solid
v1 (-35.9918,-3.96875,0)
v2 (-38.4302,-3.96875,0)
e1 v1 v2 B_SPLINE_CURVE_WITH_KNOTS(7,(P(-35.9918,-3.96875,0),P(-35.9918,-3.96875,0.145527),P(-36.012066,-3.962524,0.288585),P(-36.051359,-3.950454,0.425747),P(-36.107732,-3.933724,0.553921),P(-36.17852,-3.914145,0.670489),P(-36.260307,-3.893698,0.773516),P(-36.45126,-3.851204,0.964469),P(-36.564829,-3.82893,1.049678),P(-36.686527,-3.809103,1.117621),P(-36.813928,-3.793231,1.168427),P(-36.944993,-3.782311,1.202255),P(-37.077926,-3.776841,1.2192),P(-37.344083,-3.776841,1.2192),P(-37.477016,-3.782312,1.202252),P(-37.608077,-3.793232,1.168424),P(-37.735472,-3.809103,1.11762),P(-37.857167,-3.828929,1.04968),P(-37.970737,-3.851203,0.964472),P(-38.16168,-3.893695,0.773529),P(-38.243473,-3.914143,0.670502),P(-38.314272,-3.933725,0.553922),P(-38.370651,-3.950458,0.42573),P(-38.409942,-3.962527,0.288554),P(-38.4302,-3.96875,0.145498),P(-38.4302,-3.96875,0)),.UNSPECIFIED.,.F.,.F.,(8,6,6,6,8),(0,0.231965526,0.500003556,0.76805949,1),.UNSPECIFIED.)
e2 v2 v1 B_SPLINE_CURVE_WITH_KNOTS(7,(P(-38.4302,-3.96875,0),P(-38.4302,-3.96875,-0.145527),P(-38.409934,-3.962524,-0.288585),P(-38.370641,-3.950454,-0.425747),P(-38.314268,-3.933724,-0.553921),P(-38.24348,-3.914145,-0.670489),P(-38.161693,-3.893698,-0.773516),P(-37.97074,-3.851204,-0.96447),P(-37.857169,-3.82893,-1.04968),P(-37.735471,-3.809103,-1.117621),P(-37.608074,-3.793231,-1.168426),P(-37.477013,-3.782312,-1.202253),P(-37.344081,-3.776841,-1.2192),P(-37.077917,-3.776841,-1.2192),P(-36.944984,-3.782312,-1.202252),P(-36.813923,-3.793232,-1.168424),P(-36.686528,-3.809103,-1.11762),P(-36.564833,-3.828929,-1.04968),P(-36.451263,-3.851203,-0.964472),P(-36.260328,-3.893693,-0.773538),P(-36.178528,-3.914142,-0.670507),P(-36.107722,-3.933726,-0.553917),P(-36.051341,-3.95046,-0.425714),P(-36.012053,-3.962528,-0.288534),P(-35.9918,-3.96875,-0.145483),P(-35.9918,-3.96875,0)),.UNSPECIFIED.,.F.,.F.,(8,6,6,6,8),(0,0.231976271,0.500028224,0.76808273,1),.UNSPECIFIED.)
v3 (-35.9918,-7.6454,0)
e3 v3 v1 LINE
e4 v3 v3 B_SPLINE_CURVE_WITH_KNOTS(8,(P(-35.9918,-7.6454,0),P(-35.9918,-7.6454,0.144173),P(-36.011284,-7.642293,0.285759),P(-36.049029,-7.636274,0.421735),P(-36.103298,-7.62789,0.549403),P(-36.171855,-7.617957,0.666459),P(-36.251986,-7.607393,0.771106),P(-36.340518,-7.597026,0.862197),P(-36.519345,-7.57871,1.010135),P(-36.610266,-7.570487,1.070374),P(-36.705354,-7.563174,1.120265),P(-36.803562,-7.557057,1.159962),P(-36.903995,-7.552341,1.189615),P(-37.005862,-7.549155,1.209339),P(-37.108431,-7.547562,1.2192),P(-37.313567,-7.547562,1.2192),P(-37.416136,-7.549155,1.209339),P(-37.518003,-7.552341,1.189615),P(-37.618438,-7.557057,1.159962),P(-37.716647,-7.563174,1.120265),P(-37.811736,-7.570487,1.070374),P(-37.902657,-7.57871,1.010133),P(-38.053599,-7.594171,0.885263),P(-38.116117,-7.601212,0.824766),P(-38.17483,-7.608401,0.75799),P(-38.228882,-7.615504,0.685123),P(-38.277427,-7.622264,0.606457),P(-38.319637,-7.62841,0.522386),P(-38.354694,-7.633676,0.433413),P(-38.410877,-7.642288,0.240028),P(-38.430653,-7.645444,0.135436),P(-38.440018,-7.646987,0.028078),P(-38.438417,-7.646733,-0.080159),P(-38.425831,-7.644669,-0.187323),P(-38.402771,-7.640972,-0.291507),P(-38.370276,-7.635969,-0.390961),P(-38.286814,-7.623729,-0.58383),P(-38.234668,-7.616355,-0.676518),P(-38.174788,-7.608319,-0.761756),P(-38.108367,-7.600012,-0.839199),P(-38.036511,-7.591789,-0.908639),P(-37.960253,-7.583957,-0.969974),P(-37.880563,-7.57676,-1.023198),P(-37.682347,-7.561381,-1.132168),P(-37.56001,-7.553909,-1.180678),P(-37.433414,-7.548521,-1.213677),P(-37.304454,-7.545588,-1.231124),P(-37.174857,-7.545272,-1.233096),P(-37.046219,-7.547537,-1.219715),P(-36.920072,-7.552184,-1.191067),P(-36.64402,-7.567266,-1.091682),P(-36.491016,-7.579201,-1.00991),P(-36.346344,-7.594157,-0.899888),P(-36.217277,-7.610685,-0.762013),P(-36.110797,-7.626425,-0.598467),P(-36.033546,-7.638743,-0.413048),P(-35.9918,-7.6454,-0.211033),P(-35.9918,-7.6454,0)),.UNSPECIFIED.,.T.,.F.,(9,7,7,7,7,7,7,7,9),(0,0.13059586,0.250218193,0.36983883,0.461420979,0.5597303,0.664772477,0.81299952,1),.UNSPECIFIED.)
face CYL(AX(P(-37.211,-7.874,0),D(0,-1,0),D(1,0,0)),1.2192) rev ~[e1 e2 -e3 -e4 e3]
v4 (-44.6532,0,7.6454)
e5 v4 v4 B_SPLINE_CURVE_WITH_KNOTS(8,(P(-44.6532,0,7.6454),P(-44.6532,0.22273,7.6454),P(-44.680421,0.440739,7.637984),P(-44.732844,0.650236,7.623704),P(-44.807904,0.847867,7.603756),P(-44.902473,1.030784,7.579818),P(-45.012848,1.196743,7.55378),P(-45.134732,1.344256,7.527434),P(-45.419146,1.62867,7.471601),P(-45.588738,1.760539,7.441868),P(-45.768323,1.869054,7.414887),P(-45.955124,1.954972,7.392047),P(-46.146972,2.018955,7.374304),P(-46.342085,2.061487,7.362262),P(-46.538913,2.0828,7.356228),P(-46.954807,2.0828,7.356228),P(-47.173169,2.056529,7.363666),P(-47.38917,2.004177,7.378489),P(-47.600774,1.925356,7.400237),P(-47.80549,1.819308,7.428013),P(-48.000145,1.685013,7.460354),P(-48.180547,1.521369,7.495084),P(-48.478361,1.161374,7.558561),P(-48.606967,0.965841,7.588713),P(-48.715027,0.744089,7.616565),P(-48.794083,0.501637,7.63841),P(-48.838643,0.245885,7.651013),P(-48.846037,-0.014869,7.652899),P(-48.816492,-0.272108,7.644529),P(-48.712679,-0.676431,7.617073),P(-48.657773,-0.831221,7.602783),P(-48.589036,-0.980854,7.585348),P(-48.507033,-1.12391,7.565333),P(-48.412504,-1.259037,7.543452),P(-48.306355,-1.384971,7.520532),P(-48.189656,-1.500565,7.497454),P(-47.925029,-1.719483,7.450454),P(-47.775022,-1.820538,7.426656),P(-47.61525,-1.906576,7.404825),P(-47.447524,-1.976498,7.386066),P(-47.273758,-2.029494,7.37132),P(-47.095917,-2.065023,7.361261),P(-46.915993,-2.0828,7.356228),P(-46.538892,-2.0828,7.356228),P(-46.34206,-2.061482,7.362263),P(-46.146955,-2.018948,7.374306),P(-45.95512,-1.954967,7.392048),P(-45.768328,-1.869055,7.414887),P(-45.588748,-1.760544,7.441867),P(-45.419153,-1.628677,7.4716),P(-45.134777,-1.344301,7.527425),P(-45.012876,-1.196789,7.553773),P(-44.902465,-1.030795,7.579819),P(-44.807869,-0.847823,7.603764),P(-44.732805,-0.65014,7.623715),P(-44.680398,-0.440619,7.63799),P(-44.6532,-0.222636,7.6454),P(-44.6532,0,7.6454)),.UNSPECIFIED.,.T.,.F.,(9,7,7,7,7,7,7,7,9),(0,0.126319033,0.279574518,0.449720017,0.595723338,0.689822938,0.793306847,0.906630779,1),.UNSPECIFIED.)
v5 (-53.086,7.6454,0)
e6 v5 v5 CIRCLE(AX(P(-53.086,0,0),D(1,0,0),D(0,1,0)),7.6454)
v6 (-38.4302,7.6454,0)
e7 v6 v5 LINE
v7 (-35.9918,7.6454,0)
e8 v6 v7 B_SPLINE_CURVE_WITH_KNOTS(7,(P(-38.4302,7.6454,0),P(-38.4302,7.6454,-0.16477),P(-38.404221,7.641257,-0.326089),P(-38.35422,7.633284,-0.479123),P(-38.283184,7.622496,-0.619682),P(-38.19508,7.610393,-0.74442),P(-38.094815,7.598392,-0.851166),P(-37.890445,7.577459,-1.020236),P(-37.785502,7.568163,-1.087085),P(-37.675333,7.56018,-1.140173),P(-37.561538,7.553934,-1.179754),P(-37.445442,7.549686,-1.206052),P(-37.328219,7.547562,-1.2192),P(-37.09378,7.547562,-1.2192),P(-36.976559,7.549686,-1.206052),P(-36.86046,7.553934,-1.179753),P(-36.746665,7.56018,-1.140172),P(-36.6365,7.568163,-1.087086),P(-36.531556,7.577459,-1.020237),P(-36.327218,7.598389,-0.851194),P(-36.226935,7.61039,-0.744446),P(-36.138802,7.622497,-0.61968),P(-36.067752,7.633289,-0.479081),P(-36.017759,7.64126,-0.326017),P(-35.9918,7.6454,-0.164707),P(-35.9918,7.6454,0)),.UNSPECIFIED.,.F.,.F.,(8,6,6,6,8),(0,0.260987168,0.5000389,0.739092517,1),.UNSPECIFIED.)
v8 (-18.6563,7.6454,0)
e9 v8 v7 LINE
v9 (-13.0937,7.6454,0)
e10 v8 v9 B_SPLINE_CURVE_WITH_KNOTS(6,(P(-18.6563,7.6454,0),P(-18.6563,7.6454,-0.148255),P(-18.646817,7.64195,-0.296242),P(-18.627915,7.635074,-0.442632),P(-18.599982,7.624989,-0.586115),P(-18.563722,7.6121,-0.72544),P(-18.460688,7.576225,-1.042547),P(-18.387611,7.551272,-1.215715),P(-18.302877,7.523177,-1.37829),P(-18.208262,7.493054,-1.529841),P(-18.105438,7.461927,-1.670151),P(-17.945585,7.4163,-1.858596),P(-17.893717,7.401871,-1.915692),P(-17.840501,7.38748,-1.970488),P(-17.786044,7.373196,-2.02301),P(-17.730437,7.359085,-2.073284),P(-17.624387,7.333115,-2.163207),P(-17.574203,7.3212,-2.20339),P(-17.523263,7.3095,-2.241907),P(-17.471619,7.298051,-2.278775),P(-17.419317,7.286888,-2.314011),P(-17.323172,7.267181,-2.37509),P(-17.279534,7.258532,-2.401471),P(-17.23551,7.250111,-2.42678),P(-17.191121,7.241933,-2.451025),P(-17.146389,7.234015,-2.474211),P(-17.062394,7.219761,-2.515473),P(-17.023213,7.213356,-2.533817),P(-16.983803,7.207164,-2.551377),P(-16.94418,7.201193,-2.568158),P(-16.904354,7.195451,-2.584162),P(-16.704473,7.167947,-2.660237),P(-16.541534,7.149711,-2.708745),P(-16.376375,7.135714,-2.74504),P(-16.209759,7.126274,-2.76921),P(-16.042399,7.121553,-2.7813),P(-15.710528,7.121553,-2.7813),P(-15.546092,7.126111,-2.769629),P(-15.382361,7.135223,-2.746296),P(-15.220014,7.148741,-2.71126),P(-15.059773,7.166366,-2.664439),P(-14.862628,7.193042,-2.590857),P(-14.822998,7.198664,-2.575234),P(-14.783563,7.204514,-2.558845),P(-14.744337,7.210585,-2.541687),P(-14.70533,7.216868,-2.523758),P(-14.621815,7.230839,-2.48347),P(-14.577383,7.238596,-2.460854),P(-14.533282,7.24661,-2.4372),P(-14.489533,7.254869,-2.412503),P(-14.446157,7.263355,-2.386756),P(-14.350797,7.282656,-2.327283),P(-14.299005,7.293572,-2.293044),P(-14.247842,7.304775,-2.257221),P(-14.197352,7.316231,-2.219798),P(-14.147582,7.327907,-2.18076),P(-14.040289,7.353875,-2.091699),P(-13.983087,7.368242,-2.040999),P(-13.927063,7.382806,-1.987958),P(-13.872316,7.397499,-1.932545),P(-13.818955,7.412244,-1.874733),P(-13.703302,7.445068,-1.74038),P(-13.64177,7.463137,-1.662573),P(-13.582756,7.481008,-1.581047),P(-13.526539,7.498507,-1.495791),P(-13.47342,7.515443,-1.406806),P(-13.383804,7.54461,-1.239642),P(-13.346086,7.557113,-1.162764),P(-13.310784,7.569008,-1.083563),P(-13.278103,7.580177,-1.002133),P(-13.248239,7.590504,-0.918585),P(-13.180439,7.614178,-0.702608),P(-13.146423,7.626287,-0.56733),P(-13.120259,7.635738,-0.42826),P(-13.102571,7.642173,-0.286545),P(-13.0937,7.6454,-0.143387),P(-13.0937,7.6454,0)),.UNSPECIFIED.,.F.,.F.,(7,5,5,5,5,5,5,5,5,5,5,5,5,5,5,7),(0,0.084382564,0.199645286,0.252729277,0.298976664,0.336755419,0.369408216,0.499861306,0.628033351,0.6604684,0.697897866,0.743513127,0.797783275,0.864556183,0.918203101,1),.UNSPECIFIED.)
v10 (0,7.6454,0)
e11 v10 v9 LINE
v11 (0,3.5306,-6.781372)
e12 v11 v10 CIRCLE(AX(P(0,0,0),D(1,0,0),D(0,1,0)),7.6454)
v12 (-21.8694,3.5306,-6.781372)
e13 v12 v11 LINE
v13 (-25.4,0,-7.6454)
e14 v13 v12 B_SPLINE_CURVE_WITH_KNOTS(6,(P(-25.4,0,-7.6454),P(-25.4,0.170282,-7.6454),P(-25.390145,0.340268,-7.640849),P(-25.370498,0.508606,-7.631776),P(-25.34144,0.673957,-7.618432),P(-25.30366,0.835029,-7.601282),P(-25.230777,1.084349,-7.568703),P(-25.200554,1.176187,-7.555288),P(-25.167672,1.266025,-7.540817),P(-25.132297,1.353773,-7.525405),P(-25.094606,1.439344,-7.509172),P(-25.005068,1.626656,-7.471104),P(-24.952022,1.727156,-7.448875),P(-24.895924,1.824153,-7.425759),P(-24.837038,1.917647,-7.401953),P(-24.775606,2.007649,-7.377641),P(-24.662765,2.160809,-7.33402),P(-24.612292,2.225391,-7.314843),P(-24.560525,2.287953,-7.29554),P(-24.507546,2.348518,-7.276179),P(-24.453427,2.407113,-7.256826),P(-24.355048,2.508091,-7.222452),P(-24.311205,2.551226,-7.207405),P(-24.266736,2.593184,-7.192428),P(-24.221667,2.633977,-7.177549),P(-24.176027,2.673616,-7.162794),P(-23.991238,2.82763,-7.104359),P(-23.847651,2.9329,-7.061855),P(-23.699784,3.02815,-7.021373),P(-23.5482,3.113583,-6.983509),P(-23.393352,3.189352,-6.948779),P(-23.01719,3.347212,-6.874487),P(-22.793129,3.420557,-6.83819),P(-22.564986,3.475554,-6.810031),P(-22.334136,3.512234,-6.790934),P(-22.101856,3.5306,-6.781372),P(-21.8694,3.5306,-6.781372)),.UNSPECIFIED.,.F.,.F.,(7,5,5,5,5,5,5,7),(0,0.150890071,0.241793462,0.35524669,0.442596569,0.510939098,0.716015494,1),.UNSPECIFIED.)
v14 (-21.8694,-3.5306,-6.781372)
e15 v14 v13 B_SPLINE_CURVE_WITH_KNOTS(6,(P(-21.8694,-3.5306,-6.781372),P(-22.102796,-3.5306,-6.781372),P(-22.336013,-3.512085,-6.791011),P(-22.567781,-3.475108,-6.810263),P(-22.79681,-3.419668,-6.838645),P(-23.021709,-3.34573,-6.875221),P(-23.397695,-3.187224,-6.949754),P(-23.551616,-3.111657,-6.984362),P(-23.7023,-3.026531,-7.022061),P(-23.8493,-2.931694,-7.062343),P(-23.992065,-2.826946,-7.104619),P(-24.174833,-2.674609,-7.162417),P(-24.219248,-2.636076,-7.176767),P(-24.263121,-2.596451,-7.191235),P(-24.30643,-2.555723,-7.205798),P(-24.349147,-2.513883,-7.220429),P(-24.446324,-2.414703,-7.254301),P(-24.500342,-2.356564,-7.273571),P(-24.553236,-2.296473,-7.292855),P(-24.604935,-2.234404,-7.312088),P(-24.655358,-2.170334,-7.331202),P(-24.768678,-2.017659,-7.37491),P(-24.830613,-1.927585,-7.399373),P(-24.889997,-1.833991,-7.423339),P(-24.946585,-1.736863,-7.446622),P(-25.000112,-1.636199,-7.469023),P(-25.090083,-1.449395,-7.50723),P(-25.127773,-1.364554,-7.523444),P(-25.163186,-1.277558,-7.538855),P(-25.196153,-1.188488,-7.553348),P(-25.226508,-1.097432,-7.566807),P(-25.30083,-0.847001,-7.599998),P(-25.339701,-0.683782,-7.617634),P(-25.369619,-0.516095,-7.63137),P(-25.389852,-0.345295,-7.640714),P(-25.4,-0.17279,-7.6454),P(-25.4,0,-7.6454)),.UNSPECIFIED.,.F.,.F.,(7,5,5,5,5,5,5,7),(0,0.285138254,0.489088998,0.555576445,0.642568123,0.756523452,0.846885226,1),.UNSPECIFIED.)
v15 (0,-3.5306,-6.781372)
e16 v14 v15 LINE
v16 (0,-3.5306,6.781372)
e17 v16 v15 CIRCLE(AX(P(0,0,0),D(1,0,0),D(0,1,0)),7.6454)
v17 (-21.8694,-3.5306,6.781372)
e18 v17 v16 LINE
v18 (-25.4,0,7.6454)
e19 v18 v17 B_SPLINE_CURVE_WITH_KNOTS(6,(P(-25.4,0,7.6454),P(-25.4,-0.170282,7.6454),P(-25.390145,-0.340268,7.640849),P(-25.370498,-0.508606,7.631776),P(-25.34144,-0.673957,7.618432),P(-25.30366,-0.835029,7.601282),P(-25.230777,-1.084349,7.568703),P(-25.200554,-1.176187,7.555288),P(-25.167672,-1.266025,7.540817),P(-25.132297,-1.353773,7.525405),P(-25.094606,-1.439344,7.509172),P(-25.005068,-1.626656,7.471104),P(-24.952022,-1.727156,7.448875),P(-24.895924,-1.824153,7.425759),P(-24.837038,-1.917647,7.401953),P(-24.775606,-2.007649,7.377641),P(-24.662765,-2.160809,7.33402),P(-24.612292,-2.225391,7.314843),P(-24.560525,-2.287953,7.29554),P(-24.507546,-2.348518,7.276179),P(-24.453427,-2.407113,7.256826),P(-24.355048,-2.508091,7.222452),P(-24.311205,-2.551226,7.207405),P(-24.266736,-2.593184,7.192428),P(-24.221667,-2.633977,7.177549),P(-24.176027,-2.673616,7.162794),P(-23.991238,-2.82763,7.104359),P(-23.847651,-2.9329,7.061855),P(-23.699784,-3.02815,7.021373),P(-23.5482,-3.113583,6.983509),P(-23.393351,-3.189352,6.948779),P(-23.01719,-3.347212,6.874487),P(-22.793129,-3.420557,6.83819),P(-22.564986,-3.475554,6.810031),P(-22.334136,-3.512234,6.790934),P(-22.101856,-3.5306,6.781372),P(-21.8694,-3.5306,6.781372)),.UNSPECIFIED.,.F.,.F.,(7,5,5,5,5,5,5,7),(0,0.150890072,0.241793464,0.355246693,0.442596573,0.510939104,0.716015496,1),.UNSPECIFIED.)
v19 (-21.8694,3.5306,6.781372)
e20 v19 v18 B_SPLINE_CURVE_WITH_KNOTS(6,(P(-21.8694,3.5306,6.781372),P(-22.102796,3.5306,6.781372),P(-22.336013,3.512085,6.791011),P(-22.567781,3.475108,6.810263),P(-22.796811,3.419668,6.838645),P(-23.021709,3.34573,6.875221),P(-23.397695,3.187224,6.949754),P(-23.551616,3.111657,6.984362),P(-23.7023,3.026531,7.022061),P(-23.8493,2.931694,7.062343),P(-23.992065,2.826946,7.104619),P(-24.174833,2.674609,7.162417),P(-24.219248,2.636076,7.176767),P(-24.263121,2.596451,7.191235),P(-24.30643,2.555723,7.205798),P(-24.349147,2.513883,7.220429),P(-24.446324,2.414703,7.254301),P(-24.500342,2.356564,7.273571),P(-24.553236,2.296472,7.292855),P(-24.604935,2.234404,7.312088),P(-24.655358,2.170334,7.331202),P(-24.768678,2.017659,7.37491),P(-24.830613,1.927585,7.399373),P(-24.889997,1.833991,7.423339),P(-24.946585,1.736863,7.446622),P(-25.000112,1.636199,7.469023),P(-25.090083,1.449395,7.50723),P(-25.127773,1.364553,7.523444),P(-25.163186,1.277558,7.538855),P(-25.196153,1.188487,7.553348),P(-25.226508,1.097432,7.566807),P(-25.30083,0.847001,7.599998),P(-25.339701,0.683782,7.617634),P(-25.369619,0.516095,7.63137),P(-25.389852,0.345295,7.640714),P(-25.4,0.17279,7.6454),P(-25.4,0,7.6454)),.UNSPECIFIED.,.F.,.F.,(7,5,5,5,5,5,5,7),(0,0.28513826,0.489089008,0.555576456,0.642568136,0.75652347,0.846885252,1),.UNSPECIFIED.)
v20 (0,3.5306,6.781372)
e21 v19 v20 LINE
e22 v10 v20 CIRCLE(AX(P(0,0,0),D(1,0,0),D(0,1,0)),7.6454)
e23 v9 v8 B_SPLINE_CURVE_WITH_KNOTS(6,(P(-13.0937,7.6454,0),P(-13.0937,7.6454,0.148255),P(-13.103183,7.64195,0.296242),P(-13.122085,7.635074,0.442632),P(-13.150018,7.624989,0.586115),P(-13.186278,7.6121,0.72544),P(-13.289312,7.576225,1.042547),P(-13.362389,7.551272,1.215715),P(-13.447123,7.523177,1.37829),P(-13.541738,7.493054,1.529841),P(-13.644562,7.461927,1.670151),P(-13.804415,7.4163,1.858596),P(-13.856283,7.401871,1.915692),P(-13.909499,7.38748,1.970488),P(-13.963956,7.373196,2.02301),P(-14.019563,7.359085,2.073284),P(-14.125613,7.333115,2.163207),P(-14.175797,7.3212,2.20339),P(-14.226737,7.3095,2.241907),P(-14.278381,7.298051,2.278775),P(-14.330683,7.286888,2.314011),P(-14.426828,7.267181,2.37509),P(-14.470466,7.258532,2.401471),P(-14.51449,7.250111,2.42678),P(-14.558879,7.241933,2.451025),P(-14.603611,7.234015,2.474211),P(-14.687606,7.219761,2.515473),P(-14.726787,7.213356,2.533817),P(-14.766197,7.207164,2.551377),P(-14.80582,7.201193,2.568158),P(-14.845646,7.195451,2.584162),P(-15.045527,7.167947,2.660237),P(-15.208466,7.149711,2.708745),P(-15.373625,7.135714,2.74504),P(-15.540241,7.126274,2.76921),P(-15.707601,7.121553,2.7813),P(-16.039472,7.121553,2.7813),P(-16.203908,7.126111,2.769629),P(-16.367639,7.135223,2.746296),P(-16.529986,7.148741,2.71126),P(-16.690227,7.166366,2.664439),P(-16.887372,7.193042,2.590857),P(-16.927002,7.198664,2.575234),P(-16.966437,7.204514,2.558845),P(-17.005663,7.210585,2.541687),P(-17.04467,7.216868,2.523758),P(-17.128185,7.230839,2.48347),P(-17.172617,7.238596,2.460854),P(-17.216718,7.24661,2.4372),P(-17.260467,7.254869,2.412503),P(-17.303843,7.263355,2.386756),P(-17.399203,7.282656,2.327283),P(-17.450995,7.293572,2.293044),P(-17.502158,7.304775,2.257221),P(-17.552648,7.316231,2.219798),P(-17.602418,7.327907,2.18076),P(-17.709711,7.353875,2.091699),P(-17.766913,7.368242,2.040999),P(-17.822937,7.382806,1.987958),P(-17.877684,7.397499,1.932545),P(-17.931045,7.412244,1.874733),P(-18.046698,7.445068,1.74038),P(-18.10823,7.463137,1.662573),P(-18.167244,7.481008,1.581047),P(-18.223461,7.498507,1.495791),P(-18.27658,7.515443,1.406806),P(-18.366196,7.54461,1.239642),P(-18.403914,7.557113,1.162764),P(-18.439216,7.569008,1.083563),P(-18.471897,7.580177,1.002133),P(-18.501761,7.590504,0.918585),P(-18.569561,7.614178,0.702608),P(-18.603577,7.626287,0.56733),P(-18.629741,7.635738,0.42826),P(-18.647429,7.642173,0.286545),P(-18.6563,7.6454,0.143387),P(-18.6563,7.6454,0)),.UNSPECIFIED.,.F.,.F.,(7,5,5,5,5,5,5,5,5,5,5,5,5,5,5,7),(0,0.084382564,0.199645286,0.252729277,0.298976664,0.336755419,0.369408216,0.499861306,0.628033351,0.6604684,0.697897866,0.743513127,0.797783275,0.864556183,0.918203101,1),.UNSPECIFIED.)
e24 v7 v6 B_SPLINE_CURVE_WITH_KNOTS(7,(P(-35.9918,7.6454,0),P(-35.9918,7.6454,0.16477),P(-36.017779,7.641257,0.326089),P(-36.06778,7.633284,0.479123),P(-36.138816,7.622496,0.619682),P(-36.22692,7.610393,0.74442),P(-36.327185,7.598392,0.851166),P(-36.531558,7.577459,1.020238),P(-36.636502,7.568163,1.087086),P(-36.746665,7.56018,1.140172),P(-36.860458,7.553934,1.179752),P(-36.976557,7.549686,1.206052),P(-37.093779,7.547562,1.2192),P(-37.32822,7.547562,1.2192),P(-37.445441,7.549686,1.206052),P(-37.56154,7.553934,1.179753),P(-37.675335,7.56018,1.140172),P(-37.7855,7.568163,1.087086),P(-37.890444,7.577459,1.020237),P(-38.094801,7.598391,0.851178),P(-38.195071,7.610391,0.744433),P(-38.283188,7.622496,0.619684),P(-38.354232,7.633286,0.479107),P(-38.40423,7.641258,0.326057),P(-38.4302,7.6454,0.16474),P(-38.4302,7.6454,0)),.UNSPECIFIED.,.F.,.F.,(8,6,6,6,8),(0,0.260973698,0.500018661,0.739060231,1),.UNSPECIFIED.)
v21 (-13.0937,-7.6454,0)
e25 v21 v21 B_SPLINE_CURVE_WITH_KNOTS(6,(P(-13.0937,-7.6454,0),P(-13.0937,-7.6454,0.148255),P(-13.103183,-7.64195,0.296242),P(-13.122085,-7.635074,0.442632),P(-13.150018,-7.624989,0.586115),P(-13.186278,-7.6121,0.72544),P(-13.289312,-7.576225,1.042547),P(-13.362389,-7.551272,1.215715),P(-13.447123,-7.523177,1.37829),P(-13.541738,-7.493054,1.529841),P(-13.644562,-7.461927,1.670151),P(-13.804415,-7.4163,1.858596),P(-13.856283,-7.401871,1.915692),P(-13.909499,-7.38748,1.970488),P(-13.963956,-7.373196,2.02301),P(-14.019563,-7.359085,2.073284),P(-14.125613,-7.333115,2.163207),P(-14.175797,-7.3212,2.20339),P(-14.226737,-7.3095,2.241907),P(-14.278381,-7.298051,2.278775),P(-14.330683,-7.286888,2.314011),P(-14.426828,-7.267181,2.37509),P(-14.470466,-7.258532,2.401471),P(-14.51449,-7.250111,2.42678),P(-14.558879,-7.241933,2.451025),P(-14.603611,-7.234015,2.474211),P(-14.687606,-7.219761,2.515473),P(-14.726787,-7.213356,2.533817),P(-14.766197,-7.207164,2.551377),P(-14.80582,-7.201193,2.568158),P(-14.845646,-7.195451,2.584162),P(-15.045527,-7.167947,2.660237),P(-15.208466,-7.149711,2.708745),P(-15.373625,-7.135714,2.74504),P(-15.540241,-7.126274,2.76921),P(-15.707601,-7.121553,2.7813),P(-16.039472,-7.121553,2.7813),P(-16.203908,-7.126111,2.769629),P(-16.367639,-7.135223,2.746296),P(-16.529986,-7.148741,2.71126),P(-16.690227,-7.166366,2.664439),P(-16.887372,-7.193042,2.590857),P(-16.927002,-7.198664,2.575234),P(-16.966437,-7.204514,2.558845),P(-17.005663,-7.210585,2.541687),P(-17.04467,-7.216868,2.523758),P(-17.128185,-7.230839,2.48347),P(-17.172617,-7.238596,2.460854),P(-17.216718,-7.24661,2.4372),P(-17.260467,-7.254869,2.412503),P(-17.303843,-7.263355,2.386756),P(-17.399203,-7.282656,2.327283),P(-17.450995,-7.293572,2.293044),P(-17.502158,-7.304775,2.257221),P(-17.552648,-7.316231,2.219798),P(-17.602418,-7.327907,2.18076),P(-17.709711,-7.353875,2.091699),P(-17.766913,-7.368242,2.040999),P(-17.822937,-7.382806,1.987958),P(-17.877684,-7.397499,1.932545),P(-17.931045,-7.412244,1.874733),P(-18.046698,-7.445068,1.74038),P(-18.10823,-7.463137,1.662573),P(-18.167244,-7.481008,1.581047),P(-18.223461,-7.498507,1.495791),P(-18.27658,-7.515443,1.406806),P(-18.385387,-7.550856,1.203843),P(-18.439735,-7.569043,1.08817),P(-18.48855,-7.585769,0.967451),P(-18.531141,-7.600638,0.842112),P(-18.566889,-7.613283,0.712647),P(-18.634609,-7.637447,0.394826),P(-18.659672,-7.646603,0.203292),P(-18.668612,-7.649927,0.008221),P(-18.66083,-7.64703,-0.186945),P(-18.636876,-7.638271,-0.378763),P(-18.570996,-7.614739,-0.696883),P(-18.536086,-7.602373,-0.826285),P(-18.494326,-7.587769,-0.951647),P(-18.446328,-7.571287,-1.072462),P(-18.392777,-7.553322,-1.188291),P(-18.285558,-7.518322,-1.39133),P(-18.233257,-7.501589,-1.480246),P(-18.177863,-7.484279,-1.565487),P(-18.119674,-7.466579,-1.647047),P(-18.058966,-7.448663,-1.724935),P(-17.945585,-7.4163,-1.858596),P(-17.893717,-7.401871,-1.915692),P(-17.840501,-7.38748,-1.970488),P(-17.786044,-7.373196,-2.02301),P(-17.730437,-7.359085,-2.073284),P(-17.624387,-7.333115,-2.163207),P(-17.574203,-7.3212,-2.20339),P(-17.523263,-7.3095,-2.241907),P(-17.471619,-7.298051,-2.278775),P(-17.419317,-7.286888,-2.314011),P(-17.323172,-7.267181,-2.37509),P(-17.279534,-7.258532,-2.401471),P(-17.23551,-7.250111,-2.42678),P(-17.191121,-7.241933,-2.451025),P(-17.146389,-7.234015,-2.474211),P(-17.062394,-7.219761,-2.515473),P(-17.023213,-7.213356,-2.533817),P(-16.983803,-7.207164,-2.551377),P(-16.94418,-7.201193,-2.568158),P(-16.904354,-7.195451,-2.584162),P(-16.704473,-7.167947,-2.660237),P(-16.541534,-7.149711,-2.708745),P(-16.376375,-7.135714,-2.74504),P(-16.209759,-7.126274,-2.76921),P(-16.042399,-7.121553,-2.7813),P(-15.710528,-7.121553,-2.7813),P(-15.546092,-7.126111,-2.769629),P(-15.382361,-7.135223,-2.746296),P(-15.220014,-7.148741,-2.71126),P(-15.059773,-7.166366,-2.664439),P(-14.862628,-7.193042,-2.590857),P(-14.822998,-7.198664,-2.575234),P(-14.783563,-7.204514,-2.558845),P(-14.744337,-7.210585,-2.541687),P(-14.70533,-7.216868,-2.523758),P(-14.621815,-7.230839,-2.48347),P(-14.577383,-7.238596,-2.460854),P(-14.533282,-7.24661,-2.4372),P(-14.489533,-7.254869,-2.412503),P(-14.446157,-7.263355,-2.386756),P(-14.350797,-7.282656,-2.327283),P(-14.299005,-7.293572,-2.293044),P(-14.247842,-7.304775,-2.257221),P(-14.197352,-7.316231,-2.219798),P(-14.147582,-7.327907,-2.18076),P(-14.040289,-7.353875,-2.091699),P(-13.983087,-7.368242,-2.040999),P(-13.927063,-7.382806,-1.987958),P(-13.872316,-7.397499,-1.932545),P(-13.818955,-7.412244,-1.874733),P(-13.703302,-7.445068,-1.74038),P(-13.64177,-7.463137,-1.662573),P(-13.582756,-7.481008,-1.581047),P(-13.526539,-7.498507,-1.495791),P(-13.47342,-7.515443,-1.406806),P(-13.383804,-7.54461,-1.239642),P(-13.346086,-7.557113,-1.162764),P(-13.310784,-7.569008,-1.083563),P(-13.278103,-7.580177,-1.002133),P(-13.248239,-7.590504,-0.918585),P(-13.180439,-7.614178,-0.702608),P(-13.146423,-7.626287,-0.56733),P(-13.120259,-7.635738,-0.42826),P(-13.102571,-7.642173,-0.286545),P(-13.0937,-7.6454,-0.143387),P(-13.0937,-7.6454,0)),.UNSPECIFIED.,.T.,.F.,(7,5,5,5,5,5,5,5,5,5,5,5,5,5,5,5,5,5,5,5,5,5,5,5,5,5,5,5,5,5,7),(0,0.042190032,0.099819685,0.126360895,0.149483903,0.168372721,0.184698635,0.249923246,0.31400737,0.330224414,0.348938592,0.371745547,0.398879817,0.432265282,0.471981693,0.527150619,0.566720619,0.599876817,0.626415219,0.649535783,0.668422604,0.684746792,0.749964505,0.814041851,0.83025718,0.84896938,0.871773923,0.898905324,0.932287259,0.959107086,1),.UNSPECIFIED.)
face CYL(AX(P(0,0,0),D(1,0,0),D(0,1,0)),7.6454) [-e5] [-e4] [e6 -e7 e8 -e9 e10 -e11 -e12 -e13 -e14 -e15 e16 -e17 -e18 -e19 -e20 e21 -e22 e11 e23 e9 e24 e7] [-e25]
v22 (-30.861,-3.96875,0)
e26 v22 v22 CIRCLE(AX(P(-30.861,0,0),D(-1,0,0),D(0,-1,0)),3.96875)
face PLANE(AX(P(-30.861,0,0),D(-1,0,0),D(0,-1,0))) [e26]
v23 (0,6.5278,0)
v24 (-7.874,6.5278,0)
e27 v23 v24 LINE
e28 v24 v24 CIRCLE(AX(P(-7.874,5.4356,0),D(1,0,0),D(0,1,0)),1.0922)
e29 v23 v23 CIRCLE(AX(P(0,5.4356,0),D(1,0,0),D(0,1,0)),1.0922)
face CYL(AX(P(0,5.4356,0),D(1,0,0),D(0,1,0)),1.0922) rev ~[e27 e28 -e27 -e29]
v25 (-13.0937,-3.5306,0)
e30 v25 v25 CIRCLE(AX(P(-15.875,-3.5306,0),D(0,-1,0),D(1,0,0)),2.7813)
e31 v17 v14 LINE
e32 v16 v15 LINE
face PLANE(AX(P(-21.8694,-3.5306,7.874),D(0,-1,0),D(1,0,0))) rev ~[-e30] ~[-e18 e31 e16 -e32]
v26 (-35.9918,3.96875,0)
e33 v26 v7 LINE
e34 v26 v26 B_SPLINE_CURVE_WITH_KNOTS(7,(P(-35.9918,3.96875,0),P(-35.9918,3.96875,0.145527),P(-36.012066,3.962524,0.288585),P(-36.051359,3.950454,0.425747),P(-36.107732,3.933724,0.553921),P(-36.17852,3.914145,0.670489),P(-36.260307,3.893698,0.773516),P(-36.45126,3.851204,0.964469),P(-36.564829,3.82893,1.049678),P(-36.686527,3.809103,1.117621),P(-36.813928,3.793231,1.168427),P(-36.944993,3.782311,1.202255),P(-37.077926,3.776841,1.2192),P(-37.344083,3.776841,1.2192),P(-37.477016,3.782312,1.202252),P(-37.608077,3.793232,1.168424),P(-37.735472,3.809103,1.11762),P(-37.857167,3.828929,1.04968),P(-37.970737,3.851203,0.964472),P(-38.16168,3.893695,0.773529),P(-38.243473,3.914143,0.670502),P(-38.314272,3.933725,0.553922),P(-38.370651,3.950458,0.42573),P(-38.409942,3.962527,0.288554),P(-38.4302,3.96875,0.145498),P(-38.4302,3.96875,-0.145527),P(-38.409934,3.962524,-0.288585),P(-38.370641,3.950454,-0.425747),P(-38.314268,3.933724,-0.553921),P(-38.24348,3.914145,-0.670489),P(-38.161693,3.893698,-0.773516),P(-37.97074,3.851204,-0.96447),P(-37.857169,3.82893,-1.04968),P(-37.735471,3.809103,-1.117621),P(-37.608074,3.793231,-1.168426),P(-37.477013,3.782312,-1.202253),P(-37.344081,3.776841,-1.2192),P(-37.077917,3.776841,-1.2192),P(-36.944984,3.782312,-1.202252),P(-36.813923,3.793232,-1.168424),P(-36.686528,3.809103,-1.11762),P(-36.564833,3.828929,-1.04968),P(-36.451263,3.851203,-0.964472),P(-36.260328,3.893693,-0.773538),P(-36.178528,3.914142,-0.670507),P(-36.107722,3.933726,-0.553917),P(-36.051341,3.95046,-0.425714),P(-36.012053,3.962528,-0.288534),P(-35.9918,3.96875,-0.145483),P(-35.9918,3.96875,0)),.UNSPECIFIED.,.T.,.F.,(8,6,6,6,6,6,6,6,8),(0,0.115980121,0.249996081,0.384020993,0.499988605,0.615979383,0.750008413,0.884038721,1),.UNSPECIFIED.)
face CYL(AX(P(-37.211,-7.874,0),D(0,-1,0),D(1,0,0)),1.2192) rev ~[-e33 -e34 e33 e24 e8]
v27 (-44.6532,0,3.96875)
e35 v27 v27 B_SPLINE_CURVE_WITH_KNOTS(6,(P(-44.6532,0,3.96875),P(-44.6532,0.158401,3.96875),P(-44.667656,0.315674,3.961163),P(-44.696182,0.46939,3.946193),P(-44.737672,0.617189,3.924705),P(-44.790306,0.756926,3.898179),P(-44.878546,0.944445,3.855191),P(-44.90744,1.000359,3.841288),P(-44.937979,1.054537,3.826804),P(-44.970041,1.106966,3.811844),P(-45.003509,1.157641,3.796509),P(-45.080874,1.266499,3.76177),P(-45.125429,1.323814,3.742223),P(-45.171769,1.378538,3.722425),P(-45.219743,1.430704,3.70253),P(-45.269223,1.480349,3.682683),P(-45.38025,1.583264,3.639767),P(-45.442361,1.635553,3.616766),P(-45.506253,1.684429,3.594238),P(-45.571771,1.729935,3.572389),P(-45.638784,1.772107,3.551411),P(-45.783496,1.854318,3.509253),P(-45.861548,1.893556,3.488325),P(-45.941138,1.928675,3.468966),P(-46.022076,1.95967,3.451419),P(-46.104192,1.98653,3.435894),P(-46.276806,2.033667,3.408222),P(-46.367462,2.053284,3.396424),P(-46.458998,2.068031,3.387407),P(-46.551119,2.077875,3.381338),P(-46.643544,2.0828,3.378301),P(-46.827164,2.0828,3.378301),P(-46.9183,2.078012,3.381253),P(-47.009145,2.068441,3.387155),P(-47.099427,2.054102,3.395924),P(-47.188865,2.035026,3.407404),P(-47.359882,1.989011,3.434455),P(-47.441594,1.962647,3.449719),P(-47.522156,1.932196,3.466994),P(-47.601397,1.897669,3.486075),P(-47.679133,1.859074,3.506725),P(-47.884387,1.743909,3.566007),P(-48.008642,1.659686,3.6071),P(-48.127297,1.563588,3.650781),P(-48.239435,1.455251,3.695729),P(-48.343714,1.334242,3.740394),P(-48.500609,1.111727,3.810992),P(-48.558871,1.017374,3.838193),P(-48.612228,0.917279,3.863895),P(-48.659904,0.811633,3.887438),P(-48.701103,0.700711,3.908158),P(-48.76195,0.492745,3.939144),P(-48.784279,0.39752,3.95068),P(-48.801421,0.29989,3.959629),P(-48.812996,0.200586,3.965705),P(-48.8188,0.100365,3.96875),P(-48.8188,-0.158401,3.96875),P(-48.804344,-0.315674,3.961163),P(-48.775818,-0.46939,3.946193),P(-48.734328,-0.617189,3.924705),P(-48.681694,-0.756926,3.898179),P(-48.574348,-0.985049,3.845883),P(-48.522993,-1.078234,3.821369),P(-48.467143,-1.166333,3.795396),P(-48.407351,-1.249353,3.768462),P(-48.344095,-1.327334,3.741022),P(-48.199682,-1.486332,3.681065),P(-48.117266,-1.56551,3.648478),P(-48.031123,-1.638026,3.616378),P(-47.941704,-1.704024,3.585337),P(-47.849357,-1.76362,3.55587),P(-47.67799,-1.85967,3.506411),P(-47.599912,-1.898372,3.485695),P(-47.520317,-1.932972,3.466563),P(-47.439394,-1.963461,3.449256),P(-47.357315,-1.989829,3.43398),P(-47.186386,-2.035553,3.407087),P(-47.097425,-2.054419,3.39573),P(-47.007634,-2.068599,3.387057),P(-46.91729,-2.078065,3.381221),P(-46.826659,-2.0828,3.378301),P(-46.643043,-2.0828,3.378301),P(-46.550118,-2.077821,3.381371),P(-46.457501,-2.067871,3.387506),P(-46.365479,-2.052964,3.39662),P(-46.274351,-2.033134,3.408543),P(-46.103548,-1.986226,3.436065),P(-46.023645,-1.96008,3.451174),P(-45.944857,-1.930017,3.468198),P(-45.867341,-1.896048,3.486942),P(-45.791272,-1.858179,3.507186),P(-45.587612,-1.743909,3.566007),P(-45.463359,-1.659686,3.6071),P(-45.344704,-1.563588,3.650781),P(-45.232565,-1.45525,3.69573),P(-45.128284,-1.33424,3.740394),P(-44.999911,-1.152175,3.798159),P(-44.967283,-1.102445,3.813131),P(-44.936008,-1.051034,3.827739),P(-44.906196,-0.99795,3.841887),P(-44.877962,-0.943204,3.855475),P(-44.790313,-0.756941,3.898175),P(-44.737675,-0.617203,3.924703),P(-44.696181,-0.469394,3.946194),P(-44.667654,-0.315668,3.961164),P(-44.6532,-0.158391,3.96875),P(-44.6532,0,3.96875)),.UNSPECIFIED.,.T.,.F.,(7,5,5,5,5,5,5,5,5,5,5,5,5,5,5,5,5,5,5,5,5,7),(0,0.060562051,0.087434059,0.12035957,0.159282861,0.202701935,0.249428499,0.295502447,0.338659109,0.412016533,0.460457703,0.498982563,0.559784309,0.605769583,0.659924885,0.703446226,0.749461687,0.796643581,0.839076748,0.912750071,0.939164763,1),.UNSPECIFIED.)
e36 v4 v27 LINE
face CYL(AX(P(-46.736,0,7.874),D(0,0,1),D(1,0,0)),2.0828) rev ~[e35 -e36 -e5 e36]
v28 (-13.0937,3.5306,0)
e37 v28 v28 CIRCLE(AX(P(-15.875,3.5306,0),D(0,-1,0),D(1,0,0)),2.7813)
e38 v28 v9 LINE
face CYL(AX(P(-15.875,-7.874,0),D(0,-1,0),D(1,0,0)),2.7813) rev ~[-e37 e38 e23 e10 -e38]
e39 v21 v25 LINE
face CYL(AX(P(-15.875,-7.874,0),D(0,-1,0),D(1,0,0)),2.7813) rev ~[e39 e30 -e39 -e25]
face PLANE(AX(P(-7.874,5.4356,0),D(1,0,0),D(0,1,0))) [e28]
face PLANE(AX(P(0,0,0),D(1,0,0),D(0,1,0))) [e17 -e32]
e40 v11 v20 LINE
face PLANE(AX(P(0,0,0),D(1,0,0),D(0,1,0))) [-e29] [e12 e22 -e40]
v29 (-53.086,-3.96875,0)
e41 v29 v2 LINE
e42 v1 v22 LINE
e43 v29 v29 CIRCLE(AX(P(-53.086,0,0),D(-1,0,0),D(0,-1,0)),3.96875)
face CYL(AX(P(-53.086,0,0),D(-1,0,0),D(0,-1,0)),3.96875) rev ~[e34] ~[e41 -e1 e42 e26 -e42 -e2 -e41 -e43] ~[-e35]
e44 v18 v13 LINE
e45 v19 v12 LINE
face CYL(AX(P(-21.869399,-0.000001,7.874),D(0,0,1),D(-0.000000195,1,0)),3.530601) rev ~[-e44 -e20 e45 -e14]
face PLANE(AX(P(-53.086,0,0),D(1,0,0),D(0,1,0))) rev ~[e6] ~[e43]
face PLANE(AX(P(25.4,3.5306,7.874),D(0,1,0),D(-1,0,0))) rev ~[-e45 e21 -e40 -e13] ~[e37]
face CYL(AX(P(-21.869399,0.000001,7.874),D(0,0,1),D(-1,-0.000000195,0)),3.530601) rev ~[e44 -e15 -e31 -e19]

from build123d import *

# Parameters (mm, degrees)
F0_R      = 7.6454
F1_DEPTH  = 53.086
F4_DEPTH  = 15.5204
F5_R      = 3.96875
F6_DEPTH  = 22.225
F7_R      = 2.0828
F8_DEPTH  = 7.62
F9_R      = 1.0922
F10_DEPTH = 7.874
F12_R     = 2.7813
F13_DEPTH = 15.5204
F14_R     = 1.2192
F15_DEPTH = 15.5204


with BuildPart() as f1:
    # F0 (on Right) → F1 (new body)
    with BuildSketch(Plane.YZ):
        Circle(F0_R)
    extrude(amount=-F1_DEPTH)

    # F3 (on offset) → F4 (cut, through all)
    with BuildSketch(Plane.XY.offset(7.874)):
        with BuildLine():
            Line((25.4, 3.5306), (-21.8694, 3.5306))
            ThreePointArc((-21.8694, 3.5306), (-24.365911, 2.496511), (-25.4, 0))
            ThreePointArc((-25.4, 0), (-24.365911, -2.496511), (-21.8694, -3.5306))
            Line((-21.8694, -3.5306), (25.4, -3.5306))
            Line((25.4, -3.5306), (25.4, 3.5306))
        make_face()
    extrude(amount=-F4_DEPTH, mode=Mode.SUBTRACT)

    # F5 (on face) → F6 (cut)
    with BuildSketch(Plane(origin=(-53.086, 0, 0), x_dir=(0, -1, 0), z_dir=(-1, 0, 0))):
        Circle(F5_R)
    extrude(amount=-F6_DEPTH, mode=Mode.SUBTRACT)

    # F7 (on offset) → F8 (cut)
    with BuildSketch(Plane.XY.offset(7.874)):
        with Locations((-46.736, 0)):
            Circle(F7_R)
    extrude(amount=-F8_DEPTH, mode=Mode.SUBTRACT)

    # F9 (on face) → F10 (cut)
    with BuildSketch(Plane.YZ):
        with Locations((5.4356, 0)):
            Circle(F9_R)
    extrude(amount=-F10_DEPTH, mode=Mode.SUBTRACT)

    # F12 (on offset) → F13 (cut, through all)
    with BuildSketch(Plane.XZ.offset(7.874)):
        with Locations((-15.875, 0)):
            Circle(F12_R)
    extrude(amount=-F13_DEPTH, mode=Mode.SUBTRACT)

    # F14 (on offset) → F15 (cut, through all)
    with BuildSketch(Plane.XZ.offset(7.874)):
        with Locations((-37.211, 0)):
            Circle(F14_R)
    extrude(amount=-F15_DEPTH, mode=Mode.SUBTRACT)


solid = f1.part
